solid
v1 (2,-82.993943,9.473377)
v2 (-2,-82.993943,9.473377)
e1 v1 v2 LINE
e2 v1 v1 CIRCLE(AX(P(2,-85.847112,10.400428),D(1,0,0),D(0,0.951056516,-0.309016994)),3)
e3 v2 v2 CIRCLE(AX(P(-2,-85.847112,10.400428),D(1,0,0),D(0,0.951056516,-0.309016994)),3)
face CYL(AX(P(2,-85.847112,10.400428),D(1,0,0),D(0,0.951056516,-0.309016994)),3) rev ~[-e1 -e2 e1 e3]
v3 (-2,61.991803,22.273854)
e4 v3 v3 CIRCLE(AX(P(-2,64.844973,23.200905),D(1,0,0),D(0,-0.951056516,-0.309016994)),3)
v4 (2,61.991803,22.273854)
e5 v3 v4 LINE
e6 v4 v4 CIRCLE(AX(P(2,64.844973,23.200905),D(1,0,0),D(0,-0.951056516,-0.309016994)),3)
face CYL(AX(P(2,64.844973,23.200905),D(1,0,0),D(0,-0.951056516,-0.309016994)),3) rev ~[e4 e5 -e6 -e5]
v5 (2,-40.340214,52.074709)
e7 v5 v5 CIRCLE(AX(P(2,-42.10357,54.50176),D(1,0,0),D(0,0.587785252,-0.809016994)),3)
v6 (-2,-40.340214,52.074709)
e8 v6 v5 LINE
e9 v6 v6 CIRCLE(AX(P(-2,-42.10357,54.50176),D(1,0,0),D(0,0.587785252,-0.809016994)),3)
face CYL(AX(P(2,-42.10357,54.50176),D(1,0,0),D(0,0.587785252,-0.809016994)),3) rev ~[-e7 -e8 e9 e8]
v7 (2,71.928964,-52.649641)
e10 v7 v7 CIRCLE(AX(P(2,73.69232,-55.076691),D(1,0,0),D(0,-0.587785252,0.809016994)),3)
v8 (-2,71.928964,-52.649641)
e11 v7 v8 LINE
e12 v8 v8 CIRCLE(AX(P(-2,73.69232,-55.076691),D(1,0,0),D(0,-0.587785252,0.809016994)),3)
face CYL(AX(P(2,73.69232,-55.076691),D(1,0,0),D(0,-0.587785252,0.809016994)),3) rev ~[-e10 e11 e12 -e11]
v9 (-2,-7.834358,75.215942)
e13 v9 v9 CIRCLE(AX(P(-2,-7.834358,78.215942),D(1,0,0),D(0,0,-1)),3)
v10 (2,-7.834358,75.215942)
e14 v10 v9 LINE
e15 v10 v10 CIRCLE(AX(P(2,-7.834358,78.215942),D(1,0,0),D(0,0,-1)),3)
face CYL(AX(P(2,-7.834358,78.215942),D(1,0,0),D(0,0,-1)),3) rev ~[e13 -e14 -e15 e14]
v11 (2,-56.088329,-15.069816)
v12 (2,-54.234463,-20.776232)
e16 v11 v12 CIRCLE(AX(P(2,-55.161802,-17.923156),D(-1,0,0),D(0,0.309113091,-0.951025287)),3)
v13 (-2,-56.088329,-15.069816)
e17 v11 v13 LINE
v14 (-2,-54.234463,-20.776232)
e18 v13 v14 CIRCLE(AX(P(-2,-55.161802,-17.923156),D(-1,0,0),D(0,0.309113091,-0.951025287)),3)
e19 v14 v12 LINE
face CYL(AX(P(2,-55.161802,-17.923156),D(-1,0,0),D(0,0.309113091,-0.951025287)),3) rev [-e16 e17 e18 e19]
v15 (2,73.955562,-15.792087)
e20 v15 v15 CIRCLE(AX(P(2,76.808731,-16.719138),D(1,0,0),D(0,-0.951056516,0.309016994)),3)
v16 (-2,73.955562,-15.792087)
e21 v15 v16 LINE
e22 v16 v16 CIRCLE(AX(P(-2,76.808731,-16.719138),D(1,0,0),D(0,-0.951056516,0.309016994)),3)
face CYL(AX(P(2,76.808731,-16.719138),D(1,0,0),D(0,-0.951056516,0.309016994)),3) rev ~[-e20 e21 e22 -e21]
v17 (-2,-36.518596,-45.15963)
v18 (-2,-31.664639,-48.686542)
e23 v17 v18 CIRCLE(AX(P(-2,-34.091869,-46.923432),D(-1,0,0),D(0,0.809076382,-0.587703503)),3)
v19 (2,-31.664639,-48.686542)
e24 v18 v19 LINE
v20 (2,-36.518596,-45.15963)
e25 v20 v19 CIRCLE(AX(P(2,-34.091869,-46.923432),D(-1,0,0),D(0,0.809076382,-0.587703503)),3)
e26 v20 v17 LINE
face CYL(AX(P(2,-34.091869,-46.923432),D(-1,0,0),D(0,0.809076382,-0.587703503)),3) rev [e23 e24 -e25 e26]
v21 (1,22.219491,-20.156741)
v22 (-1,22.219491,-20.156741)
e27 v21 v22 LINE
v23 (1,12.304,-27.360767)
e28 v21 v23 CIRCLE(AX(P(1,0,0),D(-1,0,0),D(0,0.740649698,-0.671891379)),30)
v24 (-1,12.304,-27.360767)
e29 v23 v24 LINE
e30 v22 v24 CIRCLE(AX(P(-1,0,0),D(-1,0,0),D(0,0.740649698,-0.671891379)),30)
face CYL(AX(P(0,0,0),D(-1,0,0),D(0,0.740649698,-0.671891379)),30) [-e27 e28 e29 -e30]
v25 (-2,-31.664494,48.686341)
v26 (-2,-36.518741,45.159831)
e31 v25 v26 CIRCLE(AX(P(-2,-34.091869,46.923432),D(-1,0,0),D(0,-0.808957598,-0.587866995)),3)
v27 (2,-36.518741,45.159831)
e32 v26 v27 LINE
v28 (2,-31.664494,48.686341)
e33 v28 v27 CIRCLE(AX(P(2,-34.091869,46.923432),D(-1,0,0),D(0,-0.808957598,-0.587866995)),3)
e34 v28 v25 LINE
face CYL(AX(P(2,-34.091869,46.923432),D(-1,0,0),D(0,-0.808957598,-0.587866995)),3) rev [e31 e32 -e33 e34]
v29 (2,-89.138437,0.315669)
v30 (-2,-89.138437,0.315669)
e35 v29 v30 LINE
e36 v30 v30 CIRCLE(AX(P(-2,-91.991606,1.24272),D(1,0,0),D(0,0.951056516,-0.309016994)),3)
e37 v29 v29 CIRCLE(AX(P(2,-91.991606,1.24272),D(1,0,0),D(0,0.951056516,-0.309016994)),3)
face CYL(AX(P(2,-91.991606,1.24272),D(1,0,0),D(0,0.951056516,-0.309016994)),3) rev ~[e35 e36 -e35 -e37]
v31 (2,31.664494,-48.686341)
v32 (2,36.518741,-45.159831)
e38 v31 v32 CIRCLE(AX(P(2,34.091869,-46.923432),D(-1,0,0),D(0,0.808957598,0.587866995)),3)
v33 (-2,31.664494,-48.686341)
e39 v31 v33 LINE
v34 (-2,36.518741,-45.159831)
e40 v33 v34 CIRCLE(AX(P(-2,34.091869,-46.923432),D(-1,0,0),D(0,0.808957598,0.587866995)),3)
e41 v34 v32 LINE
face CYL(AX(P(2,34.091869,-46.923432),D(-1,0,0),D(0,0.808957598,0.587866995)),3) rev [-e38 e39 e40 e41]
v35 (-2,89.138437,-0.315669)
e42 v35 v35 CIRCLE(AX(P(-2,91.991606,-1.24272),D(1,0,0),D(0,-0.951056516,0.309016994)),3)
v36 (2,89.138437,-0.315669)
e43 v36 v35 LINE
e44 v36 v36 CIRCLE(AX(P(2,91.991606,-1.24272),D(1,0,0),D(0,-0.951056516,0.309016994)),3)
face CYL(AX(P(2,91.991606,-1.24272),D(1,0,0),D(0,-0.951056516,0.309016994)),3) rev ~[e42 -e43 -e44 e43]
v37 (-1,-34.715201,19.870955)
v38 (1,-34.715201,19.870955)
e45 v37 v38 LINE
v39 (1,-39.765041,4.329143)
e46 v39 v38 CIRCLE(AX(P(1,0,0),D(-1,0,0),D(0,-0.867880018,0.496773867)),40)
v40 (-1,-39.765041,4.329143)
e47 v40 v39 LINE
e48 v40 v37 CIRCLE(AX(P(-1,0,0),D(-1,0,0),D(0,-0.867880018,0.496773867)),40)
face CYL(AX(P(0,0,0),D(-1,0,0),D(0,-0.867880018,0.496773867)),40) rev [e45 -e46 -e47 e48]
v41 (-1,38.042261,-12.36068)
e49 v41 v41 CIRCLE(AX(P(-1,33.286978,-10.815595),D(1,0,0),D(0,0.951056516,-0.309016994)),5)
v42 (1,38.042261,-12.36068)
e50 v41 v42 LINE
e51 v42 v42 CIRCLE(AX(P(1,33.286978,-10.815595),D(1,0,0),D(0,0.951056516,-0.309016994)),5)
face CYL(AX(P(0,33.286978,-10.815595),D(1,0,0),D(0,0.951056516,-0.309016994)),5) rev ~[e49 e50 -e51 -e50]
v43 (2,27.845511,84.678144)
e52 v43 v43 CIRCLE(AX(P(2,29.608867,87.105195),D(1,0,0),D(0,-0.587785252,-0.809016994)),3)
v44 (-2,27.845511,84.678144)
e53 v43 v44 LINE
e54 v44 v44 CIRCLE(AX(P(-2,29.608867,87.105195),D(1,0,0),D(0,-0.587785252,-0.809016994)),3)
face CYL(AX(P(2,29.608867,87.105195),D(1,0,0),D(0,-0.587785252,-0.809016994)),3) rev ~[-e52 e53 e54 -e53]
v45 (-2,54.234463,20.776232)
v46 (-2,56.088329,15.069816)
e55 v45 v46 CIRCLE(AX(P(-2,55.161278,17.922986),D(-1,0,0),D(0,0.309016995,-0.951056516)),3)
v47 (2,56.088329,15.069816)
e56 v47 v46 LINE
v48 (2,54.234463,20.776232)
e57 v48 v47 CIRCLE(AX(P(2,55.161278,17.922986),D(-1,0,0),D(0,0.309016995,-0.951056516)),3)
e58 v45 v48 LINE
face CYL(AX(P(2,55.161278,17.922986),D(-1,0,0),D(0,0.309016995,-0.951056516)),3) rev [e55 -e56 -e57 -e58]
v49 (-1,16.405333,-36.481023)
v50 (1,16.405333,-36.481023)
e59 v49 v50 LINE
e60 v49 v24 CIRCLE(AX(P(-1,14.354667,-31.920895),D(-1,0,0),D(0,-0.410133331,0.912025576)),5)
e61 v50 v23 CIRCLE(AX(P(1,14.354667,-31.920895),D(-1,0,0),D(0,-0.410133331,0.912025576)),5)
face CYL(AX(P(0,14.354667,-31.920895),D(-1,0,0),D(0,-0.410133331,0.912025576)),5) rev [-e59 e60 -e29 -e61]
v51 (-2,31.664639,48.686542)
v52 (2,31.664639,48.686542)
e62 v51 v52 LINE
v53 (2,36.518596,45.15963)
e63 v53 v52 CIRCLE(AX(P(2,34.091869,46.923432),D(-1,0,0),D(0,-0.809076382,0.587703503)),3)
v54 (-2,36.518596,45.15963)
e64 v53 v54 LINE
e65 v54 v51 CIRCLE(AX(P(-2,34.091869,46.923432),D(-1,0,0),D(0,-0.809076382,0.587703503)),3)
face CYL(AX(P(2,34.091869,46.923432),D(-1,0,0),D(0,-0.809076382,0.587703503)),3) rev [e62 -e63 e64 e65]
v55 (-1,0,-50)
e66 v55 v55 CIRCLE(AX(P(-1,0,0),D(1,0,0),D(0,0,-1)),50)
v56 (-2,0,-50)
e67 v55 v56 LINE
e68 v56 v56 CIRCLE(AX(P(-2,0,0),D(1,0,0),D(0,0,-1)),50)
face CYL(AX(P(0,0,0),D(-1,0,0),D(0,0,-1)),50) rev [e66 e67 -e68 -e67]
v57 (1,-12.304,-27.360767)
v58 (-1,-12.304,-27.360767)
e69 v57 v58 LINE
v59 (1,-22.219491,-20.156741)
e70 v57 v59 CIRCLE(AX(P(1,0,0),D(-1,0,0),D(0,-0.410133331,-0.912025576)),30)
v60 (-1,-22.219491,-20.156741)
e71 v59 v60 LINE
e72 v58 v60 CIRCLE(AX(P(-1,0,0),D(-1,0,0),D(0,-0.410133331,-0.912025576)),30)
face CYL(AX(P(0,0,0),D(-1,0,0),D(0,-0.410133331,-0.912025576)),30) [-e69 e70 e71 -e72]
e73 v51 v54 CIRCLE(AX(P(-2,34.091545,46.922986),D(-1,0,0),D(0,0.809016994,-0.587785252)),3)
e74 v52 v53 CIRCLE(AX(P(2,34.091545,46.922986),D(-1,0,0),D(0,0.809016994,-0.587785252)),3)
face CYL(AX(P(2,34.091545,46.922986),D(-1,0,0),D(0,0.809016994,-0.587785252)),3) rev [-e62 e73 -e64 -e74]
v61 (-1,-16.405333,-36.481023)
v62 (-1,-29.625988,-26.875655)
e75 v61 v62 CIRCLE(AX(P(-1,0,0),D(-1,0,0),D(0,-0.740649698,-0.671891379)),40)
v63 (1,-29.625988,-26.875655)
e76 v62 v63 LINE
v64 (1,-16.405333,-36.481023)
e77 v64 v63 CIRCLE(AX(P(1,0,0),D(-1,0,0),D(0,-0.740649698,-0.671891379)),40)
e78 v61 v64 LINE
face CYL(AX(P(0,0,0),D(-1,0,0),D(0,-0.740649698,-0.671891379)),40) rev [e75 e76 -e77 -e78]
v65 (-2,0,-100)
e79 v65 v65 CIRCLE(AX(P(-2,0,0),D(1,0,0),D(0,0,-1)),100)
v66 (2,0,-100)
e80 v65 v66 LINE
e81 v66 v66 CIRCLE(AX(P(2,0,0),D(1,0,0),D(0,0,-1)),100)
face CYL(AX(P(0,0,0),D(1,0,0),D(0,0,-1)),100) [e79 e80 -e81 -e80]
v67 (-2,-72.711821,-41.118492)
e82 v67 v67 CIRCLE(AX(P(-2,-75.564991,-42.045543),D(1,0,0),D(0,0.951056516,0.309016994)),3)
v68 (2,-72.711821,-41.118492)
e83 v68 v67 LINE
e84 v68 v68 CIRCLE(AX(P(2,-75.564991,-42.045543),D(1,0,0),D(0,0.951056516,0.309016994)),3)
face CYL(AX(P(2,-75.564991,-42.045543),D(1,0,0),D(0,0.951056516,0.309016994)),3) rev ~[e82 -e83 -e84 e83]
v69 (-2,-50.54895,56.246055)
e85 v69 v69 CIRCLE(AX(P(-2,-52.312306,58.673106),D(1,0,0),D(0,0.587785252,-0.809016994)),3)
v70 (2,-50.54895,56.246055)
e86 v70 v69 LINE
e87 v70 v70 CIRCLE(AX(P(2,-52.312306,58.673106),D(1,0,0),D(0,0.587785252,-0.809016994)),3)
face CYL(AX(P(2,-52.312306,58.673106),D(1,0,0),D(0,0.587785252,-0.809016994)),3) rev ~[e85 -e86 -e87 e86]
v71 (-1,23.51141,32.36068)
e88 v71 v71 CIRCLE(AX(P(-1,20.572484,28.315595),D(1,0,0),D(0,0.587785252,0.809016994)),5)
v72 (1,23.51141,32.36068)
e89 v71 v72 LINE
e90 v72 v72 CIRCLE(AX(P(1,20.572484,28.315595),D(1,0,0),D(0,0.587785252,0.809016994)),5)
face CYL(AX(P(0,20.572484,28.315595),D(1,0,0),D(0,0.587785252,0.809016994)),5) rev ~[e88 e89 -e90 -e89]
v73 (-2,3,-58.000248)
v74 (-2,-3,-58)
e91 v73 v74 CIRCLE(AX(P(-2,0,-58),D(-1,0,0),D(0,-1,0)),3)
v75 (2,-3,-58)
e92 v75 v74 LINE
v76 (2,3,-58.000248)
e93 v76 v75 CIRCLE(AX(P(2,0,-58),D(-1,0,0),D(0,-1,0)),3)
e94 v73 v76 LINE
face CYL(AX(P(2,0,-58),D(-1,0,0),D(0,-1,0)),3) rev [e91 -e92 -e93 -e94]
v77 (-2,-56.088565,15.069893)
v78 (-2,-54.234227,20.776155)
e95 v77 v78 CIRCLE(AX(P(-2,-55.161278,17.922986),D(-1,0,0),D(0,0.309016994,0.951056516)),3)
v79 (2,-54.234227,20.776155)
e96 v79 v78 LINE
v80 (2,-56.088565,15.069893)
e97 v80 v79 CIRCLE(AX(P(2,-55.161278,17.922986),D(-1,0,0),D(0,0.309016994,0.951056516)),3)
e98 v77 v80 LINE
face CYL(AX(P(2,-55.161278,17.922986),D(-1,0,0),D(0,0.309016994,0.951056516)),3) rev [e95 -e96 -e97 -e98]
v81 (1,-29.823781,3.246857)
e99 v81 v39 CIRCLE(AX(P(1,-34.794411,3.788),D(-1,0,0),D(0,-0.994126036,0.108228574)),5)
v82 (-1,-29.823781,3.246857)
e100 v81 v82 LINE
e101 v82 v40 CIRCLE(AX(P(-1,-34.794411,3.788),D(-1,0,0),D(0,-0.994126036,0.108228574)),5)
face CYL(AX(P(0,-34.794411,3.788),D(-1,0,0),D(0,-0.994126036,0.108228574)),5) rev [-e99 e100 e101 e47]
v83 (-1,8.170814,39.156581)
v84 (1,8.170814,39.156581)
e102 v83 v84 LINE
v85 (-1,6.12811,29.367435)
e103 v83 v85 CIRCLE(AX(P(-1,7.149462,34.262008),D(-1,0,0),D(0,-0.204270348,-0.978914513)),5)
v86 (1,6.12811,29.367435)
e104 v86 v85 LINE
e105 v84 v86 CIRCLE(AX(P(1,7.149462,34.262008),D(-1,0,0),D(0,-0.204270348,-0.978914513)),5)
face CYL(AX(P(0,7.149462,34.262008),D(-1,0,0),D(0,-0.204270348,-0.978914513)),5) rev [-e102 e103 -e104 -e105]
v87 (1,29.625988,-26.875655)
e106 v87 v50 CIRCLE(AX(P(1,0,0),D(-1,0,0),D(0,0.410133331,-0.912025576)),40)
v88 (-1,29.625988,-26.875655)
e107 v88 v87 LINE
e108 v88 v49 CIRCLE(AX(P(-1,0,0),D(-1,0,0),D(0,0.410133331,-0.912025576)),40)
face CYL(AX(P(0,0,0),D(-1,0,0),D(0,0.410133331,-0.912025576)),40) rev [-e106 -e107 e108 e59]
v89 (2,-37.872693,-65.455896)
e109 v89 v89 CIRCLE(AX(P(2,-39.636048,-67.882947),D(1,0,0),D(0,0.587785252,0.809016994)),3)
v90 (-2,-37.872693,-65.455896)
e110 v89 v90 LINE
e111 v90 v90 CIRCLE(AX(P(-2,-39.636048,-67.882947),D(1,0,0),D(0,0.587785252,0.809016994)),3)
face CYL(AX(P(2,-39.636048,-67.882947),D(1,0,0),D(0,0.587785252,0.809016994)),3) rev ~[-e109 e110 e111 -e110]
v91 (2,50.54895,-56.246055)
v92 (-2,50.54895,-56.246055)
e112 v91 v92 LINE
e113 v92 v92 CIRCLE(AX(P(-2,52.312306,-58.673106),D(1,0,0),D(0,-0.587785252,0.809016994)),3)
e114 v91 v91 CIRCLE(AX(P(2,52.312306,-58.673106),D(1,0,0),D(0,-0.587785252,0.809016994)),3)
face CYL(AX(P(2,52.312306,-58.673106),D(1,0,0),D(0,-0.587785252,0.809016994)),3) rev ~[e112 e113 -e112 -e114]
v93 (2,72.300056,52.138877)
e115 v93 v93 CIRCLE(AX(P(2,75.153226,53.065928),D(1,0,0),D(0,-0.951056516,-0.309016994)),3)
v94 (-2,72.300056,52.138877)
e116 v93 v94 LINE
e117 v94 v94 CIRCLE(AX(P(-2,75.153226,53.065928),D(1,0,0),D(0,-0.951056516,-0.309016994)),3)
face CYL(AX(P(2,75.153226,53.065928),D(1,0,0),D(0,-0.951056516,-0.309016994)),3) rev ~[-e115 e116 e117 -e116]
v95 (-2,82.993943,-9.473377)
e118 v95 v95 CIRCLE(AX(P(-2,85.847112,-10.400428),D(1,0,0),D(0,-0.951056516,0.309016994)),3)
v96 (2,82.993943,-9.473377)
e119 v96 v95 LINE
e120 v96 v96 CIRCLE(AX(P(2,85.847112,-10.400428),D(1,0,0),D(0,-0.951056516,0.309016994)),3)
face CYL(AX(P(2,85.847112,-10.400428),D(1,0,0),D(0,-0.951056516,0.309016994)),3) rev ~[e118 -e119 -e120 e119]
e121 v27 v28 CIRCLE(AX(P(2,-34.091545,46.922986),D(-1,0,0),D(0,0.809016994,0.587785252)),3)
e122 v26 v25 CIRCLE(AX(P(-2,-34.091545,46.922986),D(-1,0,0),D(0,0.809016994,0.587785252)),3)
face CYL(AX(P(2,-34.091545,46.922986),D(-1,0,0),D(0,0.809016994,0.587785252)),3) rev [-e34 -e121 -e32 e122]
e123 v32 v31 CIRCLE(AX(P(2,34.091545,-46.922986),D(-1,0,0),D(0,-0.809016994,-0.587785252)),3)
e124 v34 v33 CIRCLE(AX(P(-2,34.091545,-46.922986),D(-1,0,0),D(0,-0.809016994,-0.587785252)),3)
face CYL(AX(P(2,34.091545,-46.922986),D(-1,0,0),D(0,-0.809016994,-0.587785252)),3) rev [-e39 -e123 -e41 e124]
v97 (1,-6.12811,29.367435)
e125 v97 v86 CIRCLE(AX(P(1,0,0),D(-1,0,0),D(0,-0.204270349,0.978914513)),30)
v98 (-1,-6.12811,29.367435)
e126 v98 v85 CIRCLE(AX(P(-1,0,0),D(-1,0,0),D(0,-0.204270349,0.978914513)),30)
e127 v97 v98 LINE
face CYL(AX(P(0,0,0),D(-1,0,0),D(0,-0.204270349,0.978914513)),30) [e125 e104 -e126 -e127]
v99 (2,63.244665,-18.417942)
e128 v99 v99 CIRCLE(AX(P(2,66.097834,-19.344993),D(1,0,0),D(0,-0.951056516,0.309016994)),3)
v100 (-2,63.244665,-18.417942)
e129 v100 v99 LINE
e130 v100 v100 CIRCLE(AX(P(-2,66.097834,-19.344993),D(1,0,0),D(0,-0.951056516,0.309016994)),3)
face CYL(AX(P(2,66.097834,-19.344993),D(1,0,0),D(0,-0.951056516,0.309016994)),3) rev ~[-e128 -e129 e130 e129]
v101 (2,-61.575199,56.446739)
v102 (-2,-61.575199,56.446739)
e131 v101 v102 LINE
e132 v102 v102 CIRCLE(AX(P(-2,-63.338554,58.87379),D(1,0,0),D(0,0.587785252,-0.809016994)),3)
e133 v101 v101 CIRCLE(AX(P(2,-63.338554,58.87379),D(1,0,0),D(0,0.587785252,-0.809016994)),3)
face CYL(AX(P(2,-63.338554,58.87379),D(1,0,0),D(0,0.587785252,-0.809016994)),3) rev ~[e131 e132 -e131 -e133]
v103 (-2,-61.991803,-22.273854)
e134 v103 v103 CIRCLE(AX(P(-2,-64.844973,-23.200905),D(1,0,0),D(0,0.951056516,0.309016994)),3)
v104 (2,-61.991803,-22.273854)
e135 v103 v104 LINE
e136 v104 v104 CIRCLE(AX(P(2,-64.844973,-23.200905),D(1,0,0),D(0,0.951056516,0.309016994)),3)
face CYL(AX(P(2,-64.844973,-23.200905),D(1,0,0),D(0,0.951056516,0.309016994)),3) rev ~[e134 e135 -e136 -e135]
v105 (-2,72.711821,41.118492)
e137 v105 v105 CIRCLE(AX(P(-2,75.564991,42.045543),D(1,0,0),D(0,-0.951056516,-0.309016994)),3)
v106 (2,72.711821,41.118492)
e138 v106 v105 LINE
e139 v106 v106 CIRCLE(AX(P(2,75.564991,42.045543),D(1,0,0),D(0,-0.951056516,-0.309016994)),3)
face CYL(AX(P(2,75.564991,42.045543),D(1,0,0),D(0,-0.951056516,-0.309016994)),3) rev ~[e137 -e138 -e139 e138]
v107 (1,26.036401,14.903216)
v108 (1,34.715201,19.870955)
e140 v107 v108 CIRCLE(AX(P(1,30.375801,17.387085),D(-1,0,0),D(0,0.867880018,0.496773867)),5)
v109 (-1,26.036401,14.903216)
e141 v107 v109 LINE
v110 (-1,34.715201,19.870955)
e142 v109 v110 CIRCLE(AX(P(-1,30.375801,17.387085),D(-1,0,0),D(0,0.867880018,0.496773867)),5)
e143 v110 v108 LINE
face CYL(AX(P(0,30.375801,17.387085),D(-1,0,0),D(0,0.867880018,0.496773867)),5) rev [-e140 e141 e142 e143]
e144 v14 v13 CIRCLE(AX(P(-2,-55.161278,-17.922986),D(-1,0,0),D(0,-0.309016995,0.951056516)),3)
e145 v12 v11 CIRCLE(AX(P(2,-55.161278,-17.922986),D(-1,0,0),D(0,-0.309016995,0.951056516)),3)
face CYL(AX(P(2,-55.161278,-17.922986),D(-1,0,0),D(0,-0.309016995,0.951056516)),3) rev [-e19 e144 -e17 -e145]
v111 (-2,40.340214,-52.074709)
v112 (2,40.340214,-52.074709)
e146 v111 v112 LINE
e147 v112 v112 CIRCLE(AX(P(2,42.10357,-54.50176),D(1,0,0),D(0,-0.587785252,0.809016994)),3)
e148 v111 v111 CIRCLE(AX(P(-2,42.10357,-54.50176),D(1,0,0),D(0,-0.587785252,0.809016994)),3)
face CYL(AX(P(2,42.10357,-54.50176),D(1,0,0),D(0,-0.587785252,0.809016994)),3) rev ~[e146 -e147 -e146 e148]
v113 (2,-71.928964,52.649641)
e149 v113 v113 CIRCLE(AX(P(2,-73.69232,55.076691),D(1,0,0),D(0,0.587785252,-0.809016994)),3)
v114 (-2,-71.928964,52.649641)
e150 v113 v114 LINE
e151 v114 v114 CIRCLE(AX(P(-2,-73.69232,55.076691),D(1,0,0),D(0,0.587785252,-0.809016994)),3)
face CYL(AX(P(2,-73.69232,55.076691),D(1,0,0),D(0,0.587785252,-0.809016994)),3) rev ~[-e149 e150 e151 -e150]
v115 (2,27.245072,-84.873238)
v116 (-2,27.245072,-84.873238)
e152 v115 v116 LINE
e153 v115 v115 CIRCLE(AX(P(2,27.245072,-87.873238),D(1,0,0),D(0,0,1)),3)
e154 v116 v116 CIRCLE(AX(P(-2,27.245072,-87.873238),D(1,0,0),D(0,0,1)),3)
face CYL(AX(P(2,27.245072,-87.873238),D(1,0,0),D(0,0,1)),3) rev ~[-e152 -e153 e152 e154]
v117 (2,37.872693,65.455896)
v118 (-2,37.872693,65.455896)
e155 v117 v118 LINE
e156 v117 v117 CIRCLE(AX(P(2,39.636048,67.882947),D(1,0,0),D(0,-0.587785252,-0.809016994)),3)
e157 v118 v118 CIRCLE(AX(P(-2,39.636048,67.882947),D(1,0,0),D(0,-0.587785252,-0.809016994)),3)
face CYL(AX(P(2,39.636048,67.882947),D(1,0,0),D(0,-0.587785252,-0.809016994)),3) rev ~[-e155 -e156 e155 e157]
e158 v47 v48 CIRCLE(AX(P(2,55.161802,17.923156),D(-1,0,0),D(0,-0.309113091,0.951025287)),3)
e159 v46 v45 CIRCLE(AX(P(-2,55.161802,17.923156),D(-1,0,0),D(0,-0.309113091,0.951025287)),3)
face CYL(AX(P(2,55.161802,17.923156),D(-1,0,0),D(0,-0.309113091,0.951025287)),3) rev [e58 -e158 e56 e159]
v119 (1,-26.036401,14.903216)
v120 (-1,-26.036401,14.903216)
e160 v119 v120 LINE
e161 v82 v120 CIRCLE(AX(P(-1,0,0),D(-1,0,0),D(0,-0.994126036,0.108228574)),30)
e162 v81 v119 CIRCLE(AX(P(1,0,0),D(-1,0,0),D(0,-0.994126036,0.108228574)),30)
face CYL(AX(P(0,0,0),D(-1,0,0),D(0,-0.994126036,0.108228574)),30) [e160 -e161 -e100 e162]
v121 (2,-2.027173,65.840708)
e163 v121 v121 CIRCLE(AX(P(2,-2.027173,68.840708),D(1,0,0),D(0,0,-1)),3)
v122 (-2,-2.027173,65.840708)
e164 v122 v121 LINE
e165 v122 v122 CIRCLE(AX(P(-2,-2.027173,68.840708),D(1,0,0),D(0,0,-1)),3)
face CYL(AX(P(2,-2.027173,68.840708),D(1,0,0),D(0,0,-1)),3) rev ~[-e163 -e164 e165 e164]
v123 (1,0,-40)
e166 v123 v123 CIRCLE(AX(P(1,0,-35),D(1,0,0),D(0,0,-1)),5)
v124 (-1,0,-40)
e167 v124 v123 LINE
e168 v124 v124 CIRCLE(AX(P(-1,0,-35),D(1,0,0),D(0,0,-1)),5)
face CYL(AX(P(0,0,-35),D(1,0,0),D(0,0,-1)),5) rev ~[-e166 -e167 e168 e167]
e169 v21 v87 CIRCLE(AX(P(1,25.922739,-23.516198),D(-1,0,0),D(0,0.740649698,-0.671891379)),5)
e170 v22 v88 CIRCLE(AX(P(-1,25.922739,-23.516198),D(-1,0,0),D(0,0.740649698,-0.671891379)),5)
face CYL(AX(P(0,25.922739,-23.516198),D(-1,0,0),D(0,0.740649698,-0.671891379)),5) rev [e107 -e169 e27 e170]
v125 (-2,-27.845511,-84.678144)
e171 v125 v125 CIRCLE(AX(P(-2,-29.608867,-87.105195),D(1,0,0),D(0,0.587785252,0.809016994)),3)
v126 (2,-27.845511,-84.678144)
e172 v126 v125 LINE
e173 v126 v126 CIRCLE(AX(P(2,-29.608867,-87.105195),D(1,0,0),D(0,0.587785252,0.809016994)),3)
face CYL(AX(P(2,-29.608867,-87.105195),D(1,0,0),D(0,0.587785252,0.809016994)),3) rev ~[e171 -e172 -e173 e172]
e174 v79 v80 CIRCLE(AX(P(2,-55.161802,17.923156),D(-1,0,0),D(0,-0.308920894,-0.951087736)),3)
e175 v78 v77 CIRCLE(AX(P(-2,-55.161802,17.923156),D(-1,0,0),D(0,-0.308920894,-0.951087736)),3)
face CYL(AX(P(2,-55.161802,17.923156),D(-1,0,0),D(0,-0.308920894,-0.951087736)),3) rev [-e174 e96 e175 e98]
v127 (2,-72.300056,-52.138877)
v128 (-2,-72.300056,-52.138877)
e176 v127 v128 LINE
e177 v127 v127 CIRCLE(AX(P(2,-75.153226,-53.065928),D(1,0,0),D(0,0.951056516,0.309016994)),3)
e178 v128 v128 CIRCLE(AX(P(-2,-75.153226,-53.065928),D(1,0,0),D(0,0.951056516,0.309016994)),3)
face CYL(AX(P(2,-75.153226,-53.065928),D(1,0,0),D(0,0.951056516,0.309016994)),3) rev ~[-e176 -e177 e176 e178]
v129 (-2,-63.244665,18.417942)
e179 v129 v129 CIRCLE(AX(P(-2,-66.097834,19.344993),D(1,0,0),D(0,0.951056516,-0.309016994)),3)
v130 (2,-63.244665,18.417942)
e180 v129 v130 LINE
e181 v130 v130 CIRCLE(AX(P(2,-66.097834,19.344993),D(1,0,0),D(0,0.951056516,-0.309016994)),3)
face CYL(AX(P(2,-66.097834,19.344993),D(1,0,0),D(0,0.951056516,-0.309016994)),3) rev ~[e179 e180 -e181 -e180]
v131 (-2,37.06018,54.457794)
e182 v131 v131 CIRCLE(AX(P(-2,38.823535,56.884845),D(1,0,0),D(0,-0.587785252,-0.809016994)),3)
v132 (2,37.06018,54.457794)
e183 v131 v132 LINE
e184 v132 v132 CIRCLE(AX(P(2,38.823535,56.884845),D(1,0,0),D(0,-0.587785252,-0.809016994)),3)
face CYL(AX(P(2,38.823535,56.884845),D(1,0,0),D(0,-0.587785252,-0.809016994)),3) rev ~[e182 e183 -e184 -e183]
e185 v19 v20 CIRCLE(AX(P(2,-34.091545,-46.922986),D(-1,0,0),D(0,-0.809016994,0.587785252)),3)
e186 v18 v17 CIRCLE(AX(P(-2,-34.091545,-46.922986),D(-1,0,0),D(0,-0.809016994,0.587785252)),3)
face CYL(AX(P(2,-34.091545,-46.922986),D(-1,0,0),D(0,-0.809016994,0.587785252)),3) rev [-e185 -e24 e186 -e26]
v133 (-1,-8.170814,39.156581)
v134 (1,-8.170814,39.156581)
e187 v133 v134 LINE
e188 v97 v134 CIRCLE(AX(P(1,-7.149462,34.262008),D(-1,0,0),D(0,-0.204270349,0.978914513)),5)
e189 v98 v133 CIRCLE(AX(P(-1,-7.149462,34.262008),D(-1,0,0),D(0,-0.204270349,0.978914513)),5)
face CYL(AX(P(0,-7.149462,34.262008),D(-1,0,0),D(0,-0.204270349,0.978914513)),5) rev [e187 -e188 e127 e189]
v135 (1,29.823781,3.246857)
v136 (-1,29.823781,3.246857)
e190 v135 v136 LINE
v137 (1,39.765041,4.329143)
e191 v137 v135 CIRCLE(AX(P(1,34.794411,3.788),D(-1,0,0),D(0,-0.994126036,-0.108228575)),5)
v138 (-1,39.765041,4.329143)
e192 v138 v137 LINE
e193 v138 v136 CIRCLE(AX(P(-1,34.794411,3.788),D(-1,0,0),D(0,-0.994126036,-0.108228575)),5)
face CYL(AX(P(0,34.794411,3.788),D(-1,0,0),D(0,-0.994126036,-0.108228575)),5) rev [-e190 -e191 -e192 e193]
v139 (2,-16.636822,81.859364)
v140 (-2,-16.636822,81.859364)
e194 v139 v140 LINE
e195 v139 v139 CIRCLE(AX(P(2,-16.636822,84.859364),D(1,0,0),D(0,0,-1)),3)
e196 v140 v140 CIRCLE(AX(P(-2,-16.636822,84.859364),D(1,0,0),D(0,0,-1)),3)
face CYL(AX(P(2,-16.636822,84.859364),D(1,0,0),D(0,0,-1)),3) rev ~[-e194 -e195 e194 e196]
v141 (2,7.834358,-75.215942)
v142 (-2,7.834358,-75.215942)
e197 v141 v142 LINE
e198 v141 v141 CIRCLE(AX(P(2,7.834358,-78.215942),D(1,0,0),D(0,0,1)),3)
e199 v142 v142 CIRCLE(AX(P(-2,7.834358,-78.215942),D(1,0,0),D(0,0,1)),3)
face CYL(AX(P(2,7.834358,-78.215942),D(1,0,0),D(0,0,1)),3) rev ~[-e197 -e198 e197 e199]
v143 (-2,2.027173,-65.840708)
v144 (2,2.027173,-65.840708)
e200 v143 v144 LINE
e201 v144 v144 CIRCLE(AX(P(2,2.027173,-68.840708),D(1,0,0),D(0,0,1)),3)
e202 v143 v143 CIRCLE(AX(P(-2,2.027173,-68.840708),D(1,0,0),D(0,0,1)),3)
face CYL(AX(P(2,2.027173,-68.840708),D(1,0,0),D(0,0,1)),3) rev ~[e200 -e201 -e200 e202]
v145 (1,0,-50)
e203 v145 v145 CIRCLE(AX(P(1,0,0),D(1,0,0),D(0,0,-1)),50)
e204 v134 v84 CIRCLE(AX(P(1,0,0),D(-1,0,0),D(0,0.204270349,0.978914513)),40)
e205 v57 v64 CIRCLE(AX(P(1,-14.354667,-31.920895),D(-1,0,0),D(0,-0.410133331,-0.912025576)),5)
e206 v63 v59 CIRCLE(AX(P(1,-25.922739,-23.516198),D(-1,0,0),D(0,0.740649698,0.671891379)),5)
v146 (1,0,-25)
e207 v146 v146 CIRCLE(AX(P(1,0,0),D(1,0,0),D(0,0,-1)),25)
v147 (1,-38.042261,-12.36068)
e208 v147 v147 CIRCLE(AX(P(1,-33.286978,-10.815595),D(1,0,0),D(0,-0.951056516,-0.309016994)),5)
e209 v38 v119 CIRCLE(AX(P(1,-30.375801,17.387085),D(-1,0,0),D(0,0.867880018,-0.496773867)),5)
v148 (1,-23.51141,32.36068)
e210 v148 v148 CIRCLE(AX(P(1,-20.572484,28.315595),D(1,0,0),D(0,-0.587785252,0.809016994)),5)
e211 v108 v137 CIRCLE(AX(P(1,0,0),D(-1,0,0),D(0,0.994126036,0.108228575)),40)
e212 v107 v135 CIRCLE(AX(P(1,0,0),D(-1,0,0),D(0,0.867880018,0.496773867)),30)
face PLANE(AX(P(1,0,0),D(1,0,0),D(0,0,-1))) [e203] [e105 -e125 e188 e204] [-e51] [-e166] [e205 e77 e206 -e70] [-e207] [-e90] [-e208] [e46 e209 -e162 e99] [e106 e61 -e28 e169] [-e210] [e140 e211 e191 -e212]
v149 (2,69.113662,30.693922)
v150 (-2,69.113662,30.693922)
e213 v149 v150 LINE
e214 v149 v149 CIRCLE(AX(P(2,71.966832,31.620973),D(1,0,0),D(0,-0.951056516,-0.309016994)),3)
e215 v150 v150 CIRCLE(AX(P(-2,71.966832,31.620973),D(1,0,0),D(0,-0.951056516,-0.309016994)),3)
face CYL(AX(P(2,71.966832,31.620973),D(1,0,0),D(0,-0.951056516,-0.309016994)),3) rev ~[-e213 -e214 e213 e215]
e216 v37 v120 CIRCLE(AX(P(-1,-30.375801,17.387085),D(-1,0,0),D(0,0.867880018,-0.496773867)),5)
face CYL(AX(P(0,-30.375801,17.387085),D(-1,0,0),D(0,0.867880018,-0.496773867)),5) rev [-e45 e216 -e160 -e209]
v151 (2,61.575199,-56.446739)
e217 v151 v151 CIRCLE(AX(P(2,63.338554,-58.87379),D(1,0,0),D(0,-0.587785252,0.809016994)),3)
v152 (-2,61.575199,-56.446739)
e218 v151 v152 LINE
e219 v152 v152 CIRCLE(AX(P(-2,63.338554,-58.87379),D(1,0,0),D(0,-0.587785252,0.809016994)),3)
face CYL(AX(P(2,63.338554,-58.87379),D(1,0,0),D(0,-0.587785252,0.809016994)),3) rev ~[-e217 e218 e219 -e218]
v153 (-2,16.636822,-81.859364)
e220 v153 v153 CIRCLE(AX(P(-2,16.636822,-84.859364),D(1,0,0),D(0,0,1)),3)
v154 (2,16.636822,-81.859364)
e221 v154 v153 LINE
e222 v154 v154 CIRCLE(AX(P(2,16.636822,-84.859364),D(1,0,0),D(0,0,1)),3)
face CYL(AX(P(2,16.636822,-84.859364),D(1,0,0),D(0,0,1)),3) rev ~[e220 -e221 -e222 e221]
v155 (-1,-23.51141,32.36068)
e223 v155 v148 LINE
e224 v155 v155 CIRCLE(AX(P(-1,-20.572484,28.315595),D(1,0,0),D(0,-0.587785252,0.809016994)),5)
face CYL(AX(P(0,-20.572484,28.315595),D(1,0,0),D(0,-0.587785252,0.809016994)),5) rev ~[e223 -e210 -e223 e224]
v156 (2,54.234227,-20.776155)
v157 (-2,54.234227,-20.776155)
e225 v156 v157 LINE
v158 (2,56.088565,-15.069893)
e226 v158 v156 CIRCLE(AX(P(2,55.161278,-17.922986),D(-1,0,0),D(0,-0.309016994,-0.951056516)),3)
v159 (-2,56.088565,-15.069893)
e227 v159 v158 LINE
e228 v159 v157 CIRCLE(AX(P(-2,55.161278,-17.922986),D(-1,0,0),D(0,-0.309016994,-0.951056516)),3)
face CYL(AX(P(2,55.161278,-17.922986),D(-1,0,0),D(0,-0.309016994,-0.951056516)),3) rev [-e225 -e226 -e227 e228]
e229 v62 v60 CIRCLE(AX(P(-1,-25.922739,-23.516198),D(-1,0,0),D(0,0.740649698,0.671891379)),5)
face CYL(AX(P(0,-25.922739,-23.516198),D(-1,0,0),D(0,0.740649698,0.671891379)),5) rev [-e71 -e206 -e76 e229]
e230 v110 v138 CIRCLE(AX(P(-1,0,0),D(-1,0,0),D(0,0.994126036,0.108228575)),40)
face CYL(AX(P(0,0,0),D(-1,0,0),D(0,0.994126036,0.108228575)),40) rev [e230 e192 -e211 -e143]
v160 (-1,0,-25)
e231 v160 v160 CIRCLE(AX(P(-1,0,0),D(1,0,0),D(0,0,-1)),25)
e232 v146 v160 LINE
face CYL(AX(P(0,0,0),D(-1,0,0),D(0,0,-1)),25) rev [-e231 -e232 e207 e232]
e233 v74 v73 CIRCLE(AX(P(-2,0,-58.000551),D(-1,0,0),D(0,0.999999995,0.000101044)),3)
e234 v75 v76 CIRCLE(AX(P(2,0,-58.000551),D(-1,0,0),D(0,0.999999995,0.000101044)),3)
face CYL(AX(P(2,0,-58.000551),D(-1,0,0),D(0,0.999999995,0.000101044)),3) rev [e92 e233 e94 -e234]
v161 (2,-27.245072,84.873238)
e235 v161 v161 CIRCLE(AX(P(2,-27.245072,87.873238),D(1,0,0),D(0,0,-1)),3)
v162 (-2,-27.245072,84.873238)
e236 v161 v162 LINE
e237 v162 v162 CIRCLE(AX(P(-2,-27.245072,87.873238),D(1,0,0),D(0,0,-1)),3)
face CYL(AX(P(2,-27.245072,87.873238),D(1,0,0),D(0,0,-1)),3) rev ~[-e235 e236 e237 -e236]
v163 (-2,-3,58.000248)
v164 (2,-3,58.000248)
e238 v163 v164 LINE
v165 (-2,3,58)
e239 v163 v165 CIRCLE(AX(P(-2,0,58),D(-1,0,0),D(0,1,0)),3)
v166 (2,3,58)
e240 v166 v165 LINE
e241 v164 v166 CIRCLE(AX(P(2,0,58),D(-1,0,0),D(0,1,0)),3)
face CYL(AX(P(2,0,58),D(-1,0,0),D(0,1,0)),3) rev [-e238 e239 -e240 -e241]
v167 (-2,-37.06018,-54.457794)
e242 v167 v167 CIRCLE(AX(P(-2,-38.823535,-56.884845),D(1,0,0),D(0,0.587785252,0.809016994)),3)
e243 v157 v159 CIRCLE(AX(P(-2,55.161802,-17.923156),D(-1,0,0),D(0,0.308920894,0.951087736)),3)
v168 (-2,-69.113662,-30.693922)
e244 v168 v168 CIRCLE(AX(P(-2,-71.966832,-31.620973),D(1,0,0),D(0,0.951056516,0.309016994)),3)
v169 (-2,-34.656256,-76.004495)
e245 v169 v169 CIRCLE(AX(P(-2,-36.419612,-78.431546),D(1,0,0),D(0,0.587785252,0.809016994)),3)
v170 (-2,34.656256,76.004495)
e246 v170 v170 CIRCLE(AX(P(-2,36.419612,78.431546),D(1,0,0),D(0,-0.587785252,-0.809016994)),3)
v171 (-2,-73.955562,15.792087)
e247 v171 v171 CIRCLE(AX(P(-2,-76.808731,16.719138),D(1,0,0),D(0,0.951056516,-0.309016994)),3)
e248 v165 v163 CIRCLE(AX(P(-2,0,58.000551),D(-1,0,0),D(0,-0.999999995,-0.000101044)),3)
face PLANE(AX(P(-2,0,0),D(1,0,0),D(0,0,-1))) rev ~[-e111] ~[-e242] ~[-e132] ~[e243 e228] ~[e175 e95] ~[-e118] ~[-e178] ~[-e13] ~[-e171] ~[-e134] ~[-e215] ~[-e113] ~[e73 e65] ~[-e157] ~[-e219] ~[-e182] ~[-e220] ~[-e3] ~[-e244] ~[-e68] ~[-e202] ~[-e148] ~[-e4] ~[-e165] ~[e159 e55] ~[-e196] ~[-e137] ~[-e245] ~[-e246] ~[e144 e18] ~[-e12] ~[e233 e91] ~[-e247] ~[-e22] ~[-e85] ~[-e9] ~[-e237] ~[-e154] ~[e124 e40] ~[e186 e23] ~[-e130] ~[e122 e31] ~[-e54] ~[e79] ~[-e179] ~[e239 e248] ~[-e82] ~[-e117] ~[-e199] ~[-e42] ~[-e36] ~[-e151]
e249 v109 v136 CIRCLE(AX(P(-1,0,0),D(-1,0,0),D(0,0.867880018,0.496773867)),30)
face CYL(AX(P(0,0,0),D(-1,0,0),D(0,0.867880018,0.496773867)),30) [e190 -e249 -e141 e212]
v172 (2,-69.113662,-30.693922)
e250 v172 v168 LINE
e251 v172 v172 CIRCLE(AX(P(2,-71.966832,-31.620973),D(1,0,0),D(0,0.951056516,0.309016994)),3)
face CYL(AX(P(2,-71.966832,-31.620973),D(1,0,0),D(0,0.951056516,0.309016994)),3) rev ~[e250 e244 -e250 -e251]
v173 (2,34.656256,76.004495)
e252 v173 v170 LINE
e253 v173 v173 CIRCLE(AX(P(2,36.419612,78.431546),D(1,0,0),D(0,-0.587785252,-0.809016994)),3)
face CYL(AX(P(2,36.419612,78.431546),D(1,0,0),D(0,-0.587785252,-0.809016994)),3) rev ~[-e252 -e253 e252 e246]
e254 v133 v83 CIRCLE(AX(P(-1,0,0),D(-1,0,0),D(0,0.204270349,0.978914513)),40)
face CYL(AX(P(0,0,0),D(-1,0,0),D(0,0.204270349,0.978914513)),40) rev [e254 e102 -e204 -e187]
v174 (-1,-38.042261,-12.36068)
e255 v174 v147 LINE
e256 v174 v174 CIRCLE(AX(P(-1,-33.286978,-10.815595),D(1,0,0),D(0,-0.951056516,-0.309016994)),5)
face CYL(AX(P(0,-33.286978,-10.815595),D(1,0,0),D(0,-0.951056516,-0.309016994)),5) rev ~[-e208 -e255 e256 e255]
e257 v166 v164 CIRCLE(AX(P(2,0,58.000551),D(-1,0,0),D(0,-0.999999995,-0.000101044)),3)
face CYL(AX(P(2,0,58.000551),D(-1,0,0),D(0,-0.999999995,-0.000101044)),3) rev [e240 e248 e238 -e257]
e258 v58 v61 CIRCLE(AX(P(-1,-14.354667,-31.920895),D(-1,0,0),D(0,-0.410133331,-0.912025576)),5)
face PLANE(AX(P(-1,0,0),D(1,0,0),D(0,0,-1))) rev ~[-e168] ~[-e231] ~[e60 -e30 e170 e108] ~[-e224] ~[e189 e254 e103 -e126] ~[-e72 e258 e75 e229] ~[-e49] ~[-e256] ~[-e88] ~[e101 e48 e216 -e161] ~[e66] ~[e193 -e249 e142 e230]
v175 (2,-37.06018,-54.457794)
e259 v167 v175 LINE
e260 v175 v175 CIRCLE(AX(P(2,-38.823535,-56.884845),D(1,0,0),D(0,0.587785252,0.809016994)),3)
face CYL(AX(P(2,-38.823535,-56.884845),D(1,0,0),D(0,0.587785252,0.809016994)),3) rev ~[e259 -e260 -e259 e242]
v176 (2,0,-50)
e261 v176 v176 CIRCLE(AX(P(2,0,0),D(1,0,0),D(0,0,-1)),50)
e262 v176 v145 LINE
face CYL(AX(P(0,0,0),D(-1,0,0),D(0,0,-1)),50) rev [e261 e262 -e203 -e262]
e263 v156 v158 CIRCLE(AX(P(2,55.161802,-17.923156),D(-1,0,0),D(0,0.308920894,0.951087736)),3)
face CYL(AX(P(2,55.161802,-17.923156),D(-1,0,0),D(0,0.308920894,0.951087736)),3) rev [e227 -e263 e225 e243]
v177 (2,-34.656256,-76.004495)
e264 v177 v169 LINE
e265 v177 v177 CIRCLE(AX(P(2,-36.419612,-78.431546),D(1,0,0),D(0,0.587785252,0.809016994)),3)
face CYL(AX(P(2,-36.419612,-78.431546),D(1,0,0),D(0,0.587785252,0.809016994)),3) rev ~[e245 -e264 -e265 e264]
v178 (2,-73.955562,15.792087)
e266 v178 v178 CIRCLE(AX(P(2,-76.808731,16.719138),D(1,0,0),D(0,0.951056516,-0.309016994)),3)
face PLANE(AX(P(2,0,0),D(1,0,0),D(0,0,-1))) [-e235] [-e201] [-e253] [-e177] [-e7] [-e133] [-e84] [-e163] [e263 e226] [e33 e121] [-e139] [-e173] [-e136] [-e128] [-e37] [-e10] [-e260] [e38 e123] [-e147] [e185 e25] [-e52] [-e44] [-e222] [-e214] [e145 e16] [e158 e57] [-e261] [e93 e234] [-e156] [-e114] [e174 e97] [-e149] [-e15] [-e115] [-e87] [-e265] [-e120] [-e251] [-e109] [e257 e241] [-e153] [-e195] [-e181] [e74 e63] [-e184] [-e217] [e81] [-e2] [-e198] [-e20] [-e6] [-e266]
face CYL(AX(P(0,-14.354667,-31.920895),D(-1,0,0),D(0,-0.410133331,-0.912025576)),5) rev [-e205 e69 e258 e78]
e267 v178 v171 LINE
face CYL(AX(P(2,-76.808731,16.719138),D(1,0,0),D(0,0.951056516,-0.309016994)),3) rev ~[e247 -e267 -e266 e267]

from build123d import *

# Parameters (mm, degrees)
SKETCH1_R           = 100
SKETCH1_R_2         = 50
BOSS_EXTRUDE1_DEPTH = 2
SKETCH1_3_R         = 50
SKETCH1_3_R_2       = 25
BOSS_EXTRUDE2_DEPTH = 1
SKETCH1_4_R         = 5
CUT_EXTRUDE1_DEPTH  = 142.435497666
CIRPATTERN1_COUNT   = 5
SKETCH2_R           = 3
CUT_EXTRUDE2_DEPTH  = 142.477913471
CIRPATTERN2_COUNT   = 10


with BuildPart() as part:
    # Sketch1 → Boss-Extrude1 (new, symmetric)
    with BuildSketch(Plane.YZ):
        Circle(SKETCH1_R)
        Circle(SKETCH1_R_2, mode=Mode.SUBTRACT)
    extrude(amount=BOSS_EXTRUDE1_DEPTH, both=True)

    # Sketch1<3> → Boss-Extrude2 (add, symmetric)
    with BuildSketch(Plane.YZ):
        Circle(SKETCH1_3_R)
        Circle(SKETCH1_3_R_2, mode=Mode.SUBTRACT)
    extrude(amount=BOSS_EXTRUDE2_DEPTH, both=True)

    # Sketch1<4> → Cut-Extrude1 (cut, symmetric)
    with BuildSketch(Plane.YZ):
        with Locations((0, -35)):
            Circle(SKETCH1_4_R)
        with BuildLine():
            ThreePointArc((-6.128110462, 29.367435403), (0, 30), (6.128110462, 29.367435403))
            ThreePointArc((6.128110462, 29.367435403), (12.044034772, 33.240656227), (8.170813949, 39.156580538))
            ThreePointArc((8.170813949, 39.156580538), (0, 40), (-8.170813949, 39.156580538))
            ThreePointArc((-8.170813949, 39.156580538), (-12.044034772, 33.240656227), (-6.128110462, 29.367435403))
        make_face()
    cut_extrude1 = extrude(amount=CUT_EXTRUDE1_DEPTH, both=True, mode=Mode.SUBTRACT)

    # CirPattern1: Cut-Extrude1 ×5 about axis
    cirpattern1_axis = Axis((1, 0, 0), (1, 0, 0))
    for i in range(1, CIRPATTERN1_COUNT):
        add(cut_extrude1.rotate(cirpattern1_axis, i * 360 / CIRPATTERN1_COUNT), mode=Mode.SUBTRACT)

    # Sketch2 → Cut-Extrude2 (cut, symmetric)
    with BuildSketch(Plane.YZ.offset(2)):
        with BuildLine():
            ThreePointArc((3, 58), (0.00012401, 60.999999997), (-2.99999999, 58.000248019))
            ThreePointArc((-2.99999999, 58.000248019), (-0.000124015, 55.000551153), (2.999999944, 58))
        make_face()
        with Locations((-27.245072384, 87.873238422)):
            Circle(SKETCH2_R)
        with Locations((-16.636821514, 84.859364489)):
            Circle(SKETCH2_R)
        with Locations((-7.834358076, 78.215942177)):
            Circle(SKETCH2_R)
        with Locations((-2.027172867, 68.840707643)):
            Circle(SKETCH2_R)
    cut_extrude2 = extrude(amount=CUT_EXTRUDE2_DEPTH, both=True, mode=Mode.SUBTRACT)

    # CirPattern2: Cut-Extrude2 ×10 about axis
    cirpattern2_axis = Axis((2, 0, 0), (1, 0, 0))
    for i in range(1, CIRPATTERN2_COUNT):
        add(cut_extrude2.rotate(cirpattern2_axis, i * 360 / CIRPATTERN2_COUNT), mode=Mode.SUBTRACT)


solid = part.part
